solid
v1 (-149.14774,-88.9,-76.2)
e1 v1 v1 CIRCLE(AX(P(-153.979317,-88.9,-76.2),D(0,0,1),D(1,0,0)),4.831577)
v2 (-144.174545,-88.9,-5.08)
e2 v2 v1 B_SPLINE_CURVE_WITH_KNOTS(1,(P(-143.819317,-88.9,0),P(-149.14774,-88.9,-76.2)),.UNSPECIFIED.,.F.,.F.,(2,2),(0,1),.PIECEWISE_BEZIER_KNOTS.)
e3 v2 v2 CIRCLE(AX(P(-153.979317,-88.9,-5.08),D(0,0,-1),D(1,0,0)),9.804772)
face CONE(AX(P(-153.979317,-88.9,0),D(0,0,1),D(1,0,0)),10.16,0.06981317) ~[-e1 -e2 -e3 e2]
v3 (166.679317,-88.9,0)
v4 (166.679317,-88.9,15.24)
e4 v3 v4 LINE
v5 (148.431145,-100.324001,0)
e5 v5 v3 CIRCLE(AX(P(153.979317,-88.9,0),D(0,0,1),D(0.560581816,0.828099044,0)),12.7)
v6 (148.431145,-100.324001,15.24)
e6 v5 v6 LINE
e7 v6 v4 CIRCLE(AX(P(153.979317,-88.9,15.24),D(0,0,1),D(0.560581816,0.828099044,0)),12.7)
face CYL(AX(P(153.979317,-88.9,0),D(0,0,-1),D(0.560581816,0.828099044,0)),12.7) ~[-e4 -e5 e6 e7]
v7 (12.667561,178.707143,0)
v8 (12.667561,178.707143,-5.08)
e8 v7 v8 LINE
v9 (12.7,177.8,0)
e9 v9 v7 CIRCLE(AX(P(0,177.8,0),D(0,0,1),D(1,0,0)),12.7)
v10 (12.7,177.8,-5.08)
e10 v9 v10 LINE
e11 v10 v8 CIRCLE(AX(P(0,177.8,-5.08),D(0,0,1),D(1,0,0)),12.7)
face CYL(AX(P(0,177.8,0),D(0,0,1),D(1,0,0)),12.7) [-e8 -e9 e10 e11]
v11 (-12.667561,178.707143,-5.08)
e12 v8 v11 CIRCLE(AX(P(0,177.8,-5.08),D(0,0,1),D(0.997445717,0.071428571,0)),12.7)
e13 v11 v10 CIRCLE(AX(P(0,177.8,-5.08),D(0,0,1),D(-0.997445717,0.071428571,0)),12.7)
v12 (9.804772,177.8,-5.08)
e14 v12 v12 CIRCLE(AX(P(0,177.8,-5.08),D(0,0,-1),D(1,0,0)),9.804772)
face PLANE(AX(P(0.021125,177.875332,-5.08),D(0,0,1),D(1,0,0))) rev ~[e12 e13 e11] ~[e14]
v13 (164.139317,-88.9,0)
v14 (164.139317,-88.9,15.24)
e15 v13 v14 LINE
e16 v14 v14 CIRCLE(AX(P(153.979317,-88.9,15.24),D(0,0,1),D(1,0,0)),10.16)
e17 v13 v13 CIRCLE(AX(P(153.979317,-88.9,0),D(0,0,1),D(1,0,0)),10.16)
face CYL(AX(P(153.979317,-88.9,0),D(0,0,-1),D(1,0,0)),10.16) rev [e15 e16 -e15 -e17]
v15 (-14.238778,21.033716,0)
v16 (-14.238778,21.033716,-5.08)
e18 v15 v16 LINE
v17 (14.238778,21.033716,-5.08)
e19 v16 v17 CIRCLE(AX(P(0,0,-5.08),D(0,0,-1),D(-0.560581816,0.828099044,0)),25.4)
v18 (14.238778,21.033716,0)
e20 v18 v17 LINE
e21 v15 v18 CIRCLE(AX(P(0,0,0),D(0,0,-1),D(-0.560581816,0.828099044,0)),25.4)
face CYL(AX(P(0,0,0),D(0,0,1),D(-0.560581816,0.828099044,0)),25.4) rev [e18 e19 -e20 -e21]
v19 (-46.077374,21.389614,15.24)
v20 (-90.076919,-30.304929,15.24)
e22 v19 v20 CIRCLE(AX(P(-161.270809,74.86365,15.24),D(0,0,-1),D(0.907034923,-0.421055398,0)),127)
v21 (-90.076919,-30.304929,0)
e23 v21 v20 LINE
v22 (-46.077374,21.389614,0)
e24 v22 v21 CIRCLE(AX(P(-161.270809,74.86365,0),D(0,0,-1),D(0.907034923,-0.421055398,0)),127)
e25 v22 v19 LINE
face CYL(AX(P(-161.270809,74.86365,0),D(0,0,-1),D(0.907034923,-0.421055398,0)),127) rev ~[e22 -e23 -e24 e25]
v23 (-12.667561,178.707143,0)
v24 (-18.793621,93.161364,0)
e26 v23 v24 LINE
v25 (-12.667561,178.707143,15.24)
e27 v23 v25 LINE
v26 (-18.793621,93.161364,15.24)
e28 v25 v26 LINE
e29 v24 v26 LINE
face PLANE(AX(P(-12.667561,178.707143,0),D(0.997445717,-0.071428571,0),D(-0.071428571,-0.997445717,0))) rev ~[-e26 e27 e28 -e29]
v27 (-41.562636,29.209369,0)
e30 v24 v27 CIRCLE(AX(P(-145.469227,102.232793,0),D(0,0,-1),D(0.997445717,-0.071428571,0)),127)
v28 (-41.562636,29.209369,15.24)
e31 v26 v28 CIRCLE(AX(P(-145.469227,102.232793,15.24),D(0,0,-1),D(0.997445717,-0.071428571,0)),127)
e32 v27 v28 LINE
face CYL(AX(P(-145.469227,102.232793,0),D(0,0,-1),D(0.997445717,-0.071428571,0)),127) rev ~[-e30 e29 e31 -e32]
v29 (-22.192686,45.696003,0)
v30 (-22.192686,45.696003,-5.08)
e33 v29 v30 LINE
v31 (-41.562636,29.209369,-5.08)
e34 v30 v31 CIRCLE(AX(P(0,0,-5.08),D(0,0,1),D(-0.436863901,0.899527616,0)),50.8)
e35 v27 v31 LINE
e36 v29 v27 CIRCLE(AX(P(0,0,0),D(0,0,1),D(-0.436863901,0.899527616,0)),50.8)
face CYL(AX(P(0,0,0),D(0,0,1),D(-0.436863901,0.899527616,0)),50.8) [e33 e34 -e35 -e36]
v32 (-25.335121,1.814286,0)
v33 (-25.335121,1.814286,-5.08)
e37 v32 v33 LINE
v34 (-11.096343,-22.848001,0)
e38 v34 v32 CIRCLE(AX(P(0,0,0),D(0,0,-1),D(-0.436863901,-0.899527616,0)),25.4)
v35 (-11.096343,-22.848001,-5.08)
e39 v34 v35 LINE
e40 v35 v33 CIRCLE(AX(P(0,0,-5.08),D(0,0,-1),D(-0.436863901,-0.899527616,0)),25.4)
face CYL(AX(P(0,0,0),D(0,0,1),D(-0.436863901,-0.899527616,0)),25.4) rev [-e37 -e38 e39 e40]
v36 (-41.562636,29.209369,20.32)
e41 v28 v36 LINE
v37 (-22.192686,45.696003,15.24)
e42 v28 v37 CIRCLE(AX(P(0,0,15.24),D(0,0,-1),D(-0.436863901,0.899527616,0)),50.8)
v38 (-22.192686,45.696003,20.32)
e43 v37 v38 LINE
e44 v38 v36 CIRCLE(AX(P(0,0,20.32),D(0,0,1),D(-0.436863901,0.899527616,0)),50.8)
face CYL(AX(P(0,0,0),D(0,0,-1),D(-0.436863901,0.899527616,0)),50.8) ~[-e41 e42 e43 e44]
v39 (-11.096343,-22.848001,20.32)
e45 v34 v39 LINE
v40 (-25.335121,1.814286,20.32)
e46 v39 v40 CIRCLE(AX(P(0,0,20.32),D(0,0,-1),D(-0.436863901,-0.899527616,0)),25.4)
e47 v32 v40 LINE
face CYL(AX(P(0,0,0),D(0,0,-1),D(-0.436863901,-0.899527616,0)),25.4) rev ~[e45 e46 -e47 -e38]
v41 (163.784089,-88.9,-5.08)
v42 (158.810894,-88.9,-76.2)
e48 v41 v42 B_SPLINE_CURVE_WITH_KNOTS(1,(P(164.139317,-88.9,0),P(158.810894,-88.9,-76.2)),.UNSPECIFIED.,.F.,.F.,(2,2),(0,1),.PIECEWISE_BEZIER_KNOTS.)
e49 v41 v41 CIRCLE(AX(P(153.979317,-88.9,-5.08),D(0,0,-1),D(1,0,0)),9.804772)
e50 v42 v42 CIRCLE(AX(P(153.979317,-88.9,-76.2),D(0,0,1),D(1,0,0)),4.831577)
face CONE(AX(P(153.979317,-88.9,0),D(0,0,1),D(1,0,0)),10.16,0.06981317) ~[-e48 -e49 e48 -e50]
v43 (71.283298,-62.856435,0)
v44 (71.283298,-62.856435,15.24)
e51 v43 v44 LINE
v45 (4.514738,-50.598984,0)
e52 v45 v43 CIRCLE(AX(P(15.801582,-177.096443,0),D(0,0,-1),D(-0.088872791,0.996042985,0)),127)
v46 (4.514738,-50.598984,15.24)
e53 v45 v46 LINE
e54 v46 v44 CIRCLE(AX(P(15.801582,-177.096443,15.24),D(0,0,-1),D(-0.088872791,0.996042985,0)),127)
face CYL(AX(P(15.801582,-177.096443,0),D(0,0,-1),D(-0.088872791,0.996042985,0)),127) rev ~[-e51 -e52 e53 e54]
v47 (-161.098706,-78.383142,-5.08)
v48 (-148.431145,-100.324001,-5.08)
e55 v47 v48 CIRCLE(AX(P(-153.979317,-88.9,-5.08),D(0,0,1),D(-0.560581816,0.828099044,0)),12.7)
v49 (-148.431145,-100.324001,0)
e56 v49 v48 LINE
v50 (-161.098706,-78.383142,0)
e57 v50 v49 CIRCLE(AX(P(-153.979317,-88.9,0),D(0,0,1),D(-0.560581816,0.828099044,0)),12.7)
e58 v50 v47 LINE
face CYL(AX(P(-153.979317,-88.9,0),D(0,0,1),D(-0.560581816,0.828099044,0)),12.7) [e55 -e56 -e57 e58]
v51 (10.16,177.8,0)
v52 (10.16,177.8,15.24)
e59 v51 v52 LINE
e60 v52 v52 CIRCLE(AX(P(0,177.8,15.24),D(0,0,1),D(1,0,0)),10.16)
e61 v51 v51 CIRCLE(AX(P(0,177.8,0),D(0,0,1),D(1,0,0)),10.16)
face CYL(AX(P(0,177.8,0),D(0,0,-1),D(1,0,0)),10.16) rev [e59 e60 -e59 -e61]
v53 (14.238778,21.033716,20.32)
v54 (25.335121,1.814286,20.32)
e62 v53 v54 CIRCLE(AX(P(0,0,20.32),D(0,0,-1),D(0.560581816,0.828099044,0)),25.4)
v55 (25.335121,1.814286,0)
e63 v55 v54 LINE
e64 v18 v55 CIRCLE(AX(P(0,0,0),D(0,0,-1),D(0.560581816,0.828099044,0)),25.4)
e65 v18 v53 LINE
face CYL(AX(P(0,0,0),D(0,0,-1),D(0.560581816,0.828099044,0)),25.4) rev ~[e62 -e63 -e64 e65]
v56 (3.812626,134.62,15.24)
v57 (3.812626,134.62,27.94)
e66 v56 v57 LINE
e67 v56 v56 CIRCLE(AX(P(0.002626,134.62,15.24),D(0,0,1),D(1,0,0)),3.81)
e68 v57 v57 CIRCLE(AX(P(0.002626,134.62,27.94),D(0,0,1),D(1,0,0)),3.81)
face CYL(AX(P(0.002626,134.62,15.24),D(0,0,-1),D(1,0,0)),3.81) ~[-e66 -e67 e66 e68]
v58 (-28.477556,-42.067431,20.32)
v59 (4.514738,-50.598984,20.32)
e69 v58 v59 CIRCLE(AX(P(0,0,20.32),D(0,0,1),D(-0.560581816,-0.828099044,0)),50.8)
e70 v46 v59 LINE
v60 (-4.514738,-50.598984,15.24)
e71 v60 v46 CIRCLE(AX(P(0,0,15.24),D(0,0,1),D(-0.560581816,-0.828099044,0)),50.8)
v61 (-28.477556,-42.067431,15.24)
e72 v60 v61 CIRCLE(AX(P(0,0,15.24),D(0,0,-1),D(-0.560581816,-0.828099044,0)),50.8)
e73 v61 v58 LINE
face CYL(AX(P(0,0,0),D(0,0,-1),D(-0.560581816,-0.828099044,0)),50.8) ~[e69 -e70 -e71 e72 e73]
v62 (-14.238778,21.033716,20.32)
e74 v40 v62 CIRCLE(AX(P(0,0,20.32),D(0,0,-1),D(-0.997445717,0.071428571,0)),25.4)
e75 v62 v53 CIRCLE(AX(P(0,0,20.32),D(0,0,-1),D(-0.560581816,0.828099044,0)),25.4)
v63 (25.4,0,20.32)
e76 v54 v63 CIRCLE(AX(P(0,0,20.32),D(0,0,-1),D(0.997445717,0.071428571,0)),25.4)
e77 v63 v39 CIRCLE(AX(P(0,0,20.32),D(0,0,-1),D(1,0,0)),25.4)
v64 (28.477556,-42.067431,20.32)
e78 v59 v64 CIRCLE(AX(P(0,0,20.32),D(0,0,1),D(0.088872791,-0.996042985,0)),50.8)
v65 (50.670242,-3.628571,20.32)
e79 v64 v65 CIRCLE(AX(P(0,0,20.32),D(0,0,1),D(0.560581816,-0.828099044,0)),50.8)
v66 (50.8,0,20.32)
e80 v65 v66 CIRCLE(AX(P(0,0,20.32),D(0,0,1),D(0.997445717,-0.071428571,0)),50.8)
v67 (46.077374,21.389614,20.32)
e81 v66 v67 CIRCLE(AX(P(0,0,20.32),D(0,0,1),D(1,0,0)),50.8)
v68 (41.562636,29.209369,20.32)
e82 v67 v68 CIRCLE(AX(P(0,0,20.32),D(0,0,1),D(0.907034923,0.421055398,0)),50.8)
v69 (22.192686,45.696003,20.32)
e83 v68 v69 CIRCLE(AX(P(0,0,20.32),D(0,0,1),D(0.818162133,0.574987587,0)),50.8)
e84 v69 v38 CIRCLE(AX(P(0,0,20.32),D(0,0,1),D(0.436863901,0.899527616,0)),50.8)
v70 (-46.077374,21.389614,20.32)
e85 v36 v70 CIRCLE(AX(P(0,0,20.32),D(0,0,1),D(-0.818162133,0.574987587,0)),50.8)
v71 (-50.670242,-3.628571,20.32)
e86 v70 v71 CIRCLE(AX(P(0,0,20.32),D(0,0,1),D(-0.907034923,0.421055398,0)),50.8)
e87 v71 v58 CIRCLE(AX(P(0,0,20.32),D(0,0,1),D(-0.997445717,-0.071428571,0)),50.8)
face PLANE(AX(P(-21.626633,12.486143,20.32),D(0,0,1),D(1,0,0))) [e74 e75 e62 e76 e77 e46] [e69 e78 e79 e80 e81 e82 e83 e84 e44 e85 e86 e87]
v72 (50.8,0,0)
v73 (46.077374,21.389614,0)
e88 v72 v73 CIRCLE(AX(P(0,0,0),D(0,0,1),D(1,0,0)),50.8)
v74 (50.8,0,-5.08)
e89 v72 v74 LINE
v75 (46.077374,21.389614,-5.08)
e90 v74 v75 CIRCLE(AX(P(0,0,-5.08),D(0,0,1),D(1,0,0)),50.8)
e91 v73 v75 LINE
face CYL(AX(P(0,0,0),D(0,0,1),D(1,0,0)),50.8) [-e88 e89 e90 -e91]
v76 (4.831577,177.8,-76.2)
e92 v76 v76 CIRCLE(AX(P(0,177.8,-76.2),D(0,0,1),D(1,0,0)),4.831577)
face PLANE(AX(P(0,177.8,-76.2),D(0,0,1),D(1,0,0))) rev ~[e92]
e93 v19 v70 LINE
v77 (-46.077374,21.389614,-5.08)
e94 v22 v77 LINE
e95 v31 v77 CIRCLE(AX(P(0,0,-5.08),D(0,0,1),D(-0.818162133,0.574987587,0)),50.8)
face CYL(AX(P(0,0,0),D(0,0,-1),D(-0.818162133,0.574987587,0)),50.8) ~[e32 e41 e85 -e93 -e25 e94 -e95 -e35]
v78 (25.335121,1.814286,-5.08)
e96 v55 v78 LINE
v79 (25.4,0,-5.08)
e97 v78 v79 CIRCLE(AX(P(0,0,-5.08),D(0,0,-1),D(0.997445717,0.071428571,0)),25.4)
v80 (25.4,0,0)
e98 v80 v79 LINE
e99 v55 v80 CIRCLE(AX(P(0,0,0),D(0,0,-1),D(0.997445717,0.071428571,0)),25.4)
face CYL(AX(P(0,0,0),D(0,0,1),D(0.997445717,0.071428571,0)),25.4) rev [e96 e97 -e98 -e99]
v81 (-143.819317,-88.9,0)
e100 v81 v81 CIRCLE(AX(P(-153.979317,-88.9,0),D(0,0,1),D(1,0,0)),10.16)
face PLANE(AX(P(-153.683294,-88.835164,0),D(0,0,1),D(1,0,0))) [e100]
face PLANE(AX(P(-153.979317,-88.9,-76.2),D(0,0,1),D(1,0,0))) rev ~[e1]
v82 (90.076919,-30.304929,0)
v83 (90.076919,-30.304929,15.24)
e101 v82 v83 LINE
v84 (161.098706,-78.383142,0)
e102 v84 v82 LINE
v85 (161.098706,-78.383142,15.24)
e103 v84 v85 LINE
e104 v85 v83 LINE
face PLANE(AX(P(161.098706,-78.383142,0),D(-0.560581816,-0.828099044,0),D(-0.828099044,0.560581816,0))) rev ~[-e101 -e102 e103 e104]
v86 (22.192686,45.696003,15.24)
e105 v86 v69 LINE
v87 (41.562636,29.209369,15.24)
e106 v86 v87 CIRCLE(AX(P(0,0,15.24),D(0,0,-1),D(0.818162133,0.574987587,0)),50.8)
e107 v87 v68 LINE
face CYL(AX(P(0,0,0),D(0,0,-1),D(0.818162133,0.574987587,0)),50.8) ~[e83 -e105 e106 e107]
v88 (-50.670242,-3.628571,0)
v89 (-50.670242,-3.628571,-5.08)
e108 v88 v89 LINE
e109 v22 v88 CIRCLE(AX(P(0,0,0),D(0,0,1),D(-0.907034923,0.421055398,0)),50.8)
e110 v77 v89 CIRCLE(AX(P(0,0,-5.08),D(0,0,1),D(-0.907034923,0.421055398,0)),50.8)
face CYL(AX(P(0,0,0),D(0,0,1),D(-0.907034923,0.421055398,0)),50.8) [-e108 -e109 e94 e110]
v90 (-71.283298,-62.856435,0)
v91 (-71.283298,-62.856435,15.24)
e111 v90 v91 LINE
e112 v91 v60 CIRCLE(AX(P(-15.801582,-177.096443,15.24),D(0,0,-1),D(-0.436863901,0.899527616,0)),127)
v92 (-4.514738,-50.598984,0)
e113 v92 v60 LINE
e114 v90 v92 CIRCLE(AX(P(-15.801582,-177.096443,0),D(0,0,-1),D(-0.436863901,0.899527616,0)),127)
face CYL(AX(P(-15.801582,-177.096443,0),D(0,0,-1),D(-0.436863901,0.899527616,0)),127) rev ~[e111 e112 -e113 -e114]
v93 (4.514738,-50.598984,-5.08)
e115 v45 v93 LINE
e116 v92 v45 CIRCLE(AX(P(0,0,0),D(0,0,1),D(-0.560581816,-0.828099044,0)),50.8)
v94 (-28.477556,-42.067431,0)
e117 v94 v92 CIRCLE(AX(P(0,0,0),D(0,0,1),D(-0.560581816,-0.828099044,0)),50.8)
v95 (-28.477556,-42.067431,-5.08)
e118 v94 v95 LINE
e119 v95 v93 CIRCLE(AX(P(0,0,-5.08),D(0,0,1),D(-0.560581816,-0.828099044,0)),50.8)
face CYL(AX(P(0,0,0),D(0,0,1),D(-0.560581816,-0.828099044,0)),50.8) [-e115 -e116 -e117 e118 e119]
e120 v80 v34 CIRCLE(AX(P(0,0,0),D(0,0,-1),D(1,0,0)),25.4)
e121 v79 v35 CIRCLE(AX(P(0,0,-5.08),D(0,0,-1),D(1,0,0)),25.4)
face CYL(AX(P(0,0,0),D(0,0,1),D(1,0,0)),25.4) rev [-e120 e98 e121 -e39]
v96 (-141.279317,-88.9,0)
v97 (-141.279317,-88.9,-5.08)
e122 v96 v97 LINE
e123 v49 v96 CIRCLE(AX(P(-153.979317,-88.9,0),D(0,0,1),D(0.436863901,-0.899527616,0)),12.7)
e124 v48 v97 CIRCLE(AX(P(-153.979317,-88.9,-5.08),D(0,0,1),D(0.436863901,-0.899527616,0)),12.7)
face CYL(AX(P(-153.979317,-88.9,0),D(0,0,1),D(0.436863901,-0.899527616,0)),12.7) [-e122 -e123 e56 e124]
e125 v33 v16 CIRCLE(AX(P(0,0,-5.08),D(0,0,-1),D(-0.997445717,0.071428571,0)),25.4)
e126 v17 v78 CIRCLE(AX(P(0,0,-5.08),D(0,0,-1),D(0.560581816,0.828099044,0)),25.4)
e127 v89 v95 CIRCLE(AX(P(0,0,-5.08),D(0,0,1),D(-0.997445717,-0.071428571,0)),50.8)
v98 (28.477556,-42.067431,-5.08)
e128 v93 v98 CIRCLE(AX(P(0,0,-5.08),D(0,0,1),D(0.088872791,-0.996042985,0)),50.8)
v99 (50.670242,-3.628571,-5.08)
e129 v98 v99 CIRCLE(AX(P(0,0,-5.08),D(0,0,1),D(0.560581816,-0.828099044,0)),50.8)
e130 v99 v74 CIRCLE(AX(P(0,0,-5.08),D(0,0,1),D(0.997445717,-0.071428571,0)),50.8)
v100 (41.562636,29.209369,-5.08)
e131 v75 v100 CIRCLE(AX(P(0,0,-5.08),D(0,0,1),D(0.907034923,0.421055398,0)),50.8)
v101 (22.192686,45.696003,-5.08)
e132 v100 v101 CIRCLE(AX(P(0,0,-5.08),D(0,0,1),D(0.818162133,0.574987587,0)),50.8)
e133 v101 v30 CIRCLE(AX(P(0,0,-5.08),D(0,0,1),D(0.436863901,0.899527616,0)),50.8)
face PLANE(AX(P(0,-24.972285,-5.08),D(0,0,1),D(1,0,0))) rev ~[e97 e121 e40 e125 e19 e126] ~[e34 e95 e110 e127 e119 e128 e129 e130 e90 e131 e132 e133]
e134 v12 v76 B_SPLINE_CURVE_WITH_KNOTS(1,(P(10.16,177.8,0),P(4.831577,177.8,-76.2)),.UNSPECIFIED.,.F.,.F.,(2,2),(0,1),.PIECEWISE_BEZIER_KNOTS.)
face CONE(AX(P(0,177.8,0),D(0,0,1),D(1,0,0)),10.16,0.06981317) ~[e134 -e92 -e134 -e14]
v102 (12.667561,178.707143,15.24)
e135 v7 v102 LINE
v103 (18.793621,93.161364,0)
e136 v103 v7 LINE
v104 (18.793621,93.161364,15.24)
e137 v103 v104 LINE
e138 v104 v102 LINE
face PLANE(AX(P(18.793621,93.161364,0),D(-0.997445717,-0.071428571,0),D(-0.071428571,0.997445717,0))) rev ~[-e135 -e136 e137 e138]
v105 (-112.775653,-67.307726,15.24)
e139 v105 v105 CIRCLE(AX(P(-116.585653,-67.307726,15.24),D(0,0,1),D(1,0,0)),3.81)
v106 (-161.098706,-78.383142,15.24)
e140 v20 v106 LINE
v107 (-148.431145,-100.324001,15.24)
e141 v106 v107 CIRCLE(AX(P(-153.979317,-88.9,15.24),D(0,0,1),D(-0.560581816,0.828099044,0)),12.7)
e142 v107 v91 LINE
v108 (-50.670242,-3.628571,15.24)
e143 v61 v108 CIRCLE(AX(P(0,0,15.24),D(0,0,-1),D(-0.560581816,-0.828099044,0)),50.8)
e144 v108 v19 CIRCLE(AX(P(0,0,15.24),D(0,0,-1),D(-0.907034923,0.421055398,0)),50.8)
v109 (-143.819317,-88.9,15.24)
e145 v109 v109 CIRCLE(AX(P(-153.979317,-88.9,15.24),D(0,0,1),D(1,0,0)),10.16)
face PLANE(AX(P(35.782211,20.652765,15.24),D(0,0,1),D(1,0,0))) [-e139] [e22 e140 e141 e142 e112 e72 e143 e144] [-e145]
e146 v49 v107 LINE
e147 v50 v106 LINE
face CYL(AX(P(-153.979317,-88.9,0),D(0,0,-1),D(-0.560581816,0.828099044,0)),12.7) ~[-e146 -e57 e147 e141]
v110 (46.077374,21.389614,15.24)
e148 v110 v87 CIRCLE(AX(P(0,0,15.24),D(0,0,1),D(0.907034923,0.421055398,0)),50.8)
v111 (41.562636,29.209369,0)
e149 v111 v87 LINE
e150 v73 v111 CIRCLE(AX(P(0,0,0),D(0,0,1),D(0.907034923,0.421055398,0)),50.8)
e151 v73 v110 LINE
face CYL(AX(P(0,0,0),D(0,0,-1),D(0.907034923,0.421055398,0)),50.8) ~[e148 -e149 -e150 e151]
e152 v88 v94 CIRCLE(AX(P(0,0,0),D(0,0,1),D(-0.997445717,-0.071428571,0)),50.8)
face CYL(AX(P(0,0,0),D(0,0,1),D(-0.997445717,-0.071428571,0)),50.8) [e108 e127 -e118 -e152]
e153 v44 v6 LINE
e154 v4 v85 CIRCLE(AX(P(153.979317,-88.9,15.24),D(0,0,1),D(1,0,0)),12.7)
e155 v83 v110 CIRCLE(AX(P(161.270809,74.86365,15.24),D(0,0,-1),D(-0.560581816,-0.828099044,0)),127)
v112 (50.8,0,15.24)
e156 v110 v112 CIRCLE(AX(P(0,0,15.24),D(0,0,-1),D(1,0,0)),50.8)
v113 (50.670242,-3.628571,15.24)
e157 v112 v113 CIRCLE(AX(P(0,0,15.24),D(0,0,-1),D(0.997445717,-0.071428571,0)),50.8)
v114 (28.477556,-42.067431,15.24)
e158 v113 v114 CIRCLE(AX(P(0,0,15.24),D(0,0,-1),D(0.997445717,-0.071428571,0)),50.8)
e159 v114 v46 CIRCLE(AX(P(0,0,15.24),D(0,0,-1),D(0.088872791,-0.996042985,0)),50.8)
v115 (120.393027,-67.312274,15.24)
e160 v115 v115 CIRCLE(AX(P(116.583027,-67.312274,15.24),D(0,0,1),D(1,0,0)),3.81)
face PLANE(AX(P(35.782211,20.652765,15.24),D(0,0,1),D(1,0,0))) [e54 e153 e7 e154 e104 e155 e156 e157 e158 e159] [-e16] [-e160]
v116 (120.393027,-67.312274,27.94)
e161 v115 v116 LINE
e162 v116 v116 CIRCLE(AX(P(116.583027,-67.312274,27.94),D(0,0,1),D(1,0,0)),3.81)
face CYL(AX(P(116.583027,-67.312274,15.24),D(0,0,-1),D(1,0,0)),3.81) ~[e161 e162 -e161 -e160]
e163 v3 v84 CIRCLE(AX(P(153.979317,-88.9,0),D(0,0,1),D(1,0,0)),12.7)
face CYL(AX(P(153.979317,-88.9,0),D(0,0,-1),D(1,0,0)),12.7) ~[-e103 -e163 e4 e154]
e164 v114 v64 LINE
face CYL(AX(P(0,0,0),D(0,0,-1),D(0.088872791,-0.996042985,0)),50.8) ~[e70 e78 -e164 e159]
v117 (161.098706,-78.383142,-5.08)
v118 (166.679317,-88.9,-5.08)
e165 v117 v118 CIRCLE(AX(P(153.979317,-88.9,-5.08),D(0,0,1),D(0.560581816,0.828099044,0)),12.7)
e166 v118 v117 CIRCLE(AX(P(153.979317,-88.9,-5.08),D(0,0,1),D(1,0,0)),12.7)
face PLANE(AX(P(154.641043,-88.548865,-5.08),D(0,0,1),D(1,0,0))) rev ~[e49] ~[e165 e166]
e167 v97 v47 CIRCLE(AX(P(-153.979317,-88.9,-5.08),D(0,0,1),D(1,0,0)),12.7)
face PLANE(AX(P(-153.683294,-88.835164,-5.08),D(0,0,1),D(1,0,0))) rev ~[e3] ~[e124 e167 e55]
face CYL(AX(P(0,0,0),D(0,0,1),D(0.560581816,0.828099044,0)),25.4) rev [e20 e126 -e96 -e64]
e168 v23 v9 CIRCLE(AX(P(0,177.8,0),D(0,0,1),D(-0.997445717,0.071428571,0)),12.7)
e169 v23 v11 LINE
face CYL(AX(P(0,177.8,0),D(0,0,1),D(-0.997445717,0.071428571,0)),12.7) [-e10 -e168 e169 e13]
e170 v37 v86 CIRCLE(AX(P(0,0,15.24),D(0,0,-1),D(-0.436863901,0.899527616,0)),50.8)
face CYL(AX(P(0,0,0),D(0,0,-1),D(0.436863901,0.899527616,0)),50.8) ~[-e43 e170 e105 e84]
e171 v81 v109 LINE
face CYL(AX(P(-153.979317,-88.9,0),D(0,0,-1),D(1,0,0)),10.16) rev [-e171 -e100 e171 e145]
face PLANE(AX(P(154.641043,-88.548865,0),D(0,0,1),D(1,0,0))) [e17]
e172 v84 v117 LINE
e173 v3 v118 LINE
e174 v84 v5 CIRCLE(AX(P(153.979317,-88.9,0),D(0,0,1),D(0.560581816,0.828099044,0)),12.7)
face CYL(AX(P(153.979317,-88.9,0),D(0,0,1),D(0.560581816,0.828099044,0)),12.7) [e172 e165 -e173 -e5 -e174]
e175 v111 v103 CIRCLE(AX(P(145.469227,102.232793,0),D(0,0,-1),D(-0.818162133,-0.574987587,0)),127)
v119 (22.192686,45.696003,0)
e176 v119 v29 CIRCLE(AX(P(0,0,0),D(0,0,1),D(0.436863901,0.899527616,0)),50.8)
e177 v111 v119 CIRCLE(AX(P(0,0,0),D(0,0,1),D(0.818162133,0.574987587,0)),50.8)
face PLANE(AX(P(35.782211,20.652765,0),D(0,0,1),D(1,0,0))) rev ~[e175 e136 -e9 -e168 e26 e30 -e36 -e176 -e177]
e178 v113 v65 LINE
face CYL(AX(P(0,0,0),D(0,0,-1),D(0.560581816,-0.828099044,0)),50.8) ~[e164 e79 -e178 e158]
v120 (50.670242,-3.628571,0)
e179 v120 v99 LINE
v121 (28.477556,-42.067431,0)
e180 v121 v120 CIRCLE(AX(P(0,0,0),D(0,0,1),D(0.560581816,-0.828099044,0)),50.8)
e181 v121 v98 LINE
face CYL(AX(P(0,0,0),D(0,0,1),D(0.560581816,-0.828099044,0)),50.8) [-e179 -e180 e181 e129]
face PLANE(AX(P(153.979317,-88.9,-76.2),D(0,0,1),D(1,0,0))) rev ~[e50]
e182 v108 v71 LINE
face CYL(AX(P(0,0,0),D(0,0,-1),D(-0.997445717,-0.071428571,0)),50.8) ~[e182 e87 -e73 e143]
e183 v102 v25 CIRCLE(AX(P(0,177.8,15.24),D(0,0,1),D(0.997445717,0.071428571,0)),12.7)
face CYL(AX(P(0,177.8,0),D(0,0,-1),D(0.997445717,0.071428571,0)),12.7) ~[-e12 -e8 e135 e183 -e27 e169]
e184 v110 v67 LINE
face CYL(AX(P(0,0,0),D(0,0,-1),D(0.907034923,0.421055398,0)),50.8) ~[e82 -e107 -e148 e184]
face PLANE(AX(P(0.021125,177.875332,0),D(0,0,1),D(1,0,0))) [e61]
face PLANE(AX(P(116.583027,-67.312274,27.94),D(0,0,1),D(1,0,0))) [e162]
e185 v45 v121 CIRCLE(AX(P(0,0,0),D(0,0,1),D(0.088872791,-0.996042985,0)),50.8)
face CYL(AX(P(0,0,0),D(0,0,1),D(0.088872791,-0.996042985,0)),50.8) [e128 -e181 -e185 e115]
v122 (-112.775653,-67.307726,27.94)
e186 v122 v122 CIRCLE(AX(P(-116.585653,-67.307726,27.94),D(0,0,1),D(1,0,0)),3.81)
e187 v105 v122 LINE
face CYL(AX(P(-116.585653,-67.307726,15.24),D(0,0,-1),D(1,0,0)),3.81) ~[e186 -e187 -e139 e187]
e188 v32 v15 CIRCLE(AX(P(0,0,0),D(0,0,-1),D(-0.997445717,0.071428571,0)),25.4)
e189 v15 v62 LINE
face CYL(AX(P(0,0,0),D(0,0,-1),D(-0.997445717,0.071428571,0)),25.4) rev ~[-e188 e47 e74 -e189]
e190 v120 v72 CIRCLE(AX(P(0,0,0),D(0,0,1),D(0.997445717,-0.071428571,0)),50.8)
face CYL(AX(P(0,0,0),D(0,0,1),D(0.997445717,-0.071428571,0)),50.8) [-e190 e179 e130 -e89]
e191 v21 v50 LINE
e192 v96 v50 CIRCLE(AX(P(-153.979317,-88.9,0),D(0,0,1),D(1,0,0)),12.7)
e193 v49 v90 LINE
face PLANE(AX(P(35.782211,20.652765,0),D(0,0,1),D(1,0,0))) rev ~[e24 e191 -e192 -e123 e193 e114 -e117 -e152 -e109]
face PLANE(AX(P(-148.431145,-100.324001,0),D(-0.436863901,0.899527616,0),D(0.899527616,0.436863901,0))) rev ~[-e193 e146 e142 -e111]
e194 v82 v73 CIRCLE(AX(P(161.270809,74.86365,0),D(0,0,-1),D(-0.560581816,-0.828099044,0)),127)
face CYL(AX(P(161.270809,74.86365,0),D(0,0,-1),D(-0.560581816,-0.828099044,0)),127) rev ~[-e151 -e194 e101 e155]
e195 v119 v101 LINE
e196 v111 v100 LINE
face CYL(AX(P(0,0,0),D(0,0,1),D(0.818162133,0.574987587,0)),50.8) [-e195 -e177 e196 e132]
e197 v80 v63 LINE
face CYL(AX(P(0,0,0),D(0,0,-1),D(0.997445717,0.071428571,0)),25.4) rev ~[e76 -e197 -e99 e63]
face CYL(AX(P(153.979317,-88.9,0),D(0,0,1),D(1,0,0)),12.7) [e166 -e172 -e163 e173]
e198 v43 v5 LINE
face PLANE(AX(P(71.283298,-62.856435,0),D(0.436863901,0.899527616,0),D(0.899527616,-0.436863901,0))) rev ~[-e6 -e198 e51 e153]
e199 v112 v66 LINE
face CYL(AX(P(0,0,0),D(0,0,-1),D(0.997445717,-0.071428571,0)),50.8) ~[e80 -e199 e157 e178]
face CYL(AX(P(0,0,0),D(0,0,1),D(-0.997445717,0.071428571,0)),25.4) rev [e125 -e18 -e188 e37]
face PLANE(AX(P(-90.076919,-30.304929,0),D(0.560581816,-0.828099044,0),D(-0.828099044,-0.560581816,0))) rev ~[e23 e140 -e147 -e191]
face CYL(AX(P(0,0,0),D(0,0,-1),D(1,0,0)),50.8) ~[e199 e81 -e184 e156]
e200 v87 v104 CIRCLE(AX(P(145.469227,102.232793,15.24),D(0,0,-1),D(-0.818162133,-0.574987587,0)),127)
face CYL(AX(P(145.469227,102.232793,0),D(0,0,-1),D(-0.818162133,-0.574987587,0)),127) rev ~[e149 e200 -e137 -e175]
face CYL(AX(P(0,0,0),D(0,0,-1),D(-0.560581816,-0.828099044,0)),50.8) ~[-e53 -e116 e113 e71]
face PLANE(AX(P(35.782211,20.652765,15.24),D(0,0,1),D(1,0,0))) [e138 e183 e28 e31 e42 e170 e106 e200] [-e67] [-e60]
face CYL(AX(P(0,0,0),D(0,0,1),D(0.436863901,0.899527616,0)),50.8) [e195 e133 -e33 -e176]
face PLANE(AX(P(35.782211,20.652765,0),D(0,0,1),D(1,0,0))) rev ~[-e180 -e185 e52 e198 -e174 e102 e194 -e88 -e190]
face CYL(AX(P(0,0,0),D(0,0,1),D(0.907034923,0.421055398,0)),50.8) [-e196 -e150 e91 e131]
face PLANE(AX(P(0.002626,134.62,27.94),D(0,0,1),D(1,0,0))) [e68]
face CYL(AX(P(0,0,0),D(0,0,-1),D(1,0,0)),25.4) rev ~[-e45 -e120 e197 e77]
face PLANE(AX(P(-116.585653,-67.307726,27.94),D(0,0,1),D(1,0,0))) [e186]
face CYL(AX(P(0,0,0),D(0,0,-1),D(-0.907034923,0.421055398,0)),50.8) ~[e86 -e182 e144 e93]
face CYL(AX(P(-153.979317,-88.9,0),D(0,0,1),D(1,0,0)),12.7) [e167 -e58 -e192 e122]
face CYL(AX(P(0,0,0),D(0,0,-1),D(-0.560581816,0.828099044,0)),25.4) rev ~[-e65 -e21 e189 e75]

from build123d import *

# Parameters (mm, degrees)
F1_DEPTH = 20.32
F2_DEPTH = 5.08
F0_R     = 10.16
F3_DEPTH = 15.24
F4_DEPTH = 5.08
F5_DEPTH = 76.2
F5_TAPER = 4
F6_R     = 3.81
F7_DEPTH = 12.7


with BuildPart() as f1:
    # F0 (on Top) → F1 (new body)
    with BuildSketch(Plane.XY):
        with BuildLine():
            ThreePointArc((-25.3351212223, 1.8142857143), (-21.9970452561, 12.7), (-14.2387781294, 21.0337157293))
            Line((-14.2387781294, 21.0337157293), (-24.4539965951, 14.1185215169))
            Line((-24.4539965951, 14.1185215169), (-25.3351212223, 1.8142857143))
        make_face()
        with BuildLine():
            ThreePointArc((14.2387781294, 21.0337157293), (21.9970452561, 12.7), (25.3351212223, 1.8142857143))
            Line((25.3351212223, 1.8142857143), (24.4539965951, 14.1185215169))
            Line((24.4539965951, 14.1185215169), (14.2387781294, 21.0337157293))
        make_face()
        with BuildLine():
            Line((0, -28.2370430339), (11.0963430928, -22.8480014436))
            ThreePointArc((11.0963430928, -22.8480014436), (0, -25.4), (-11.0963430928, -22.8480014436))
            Line((-11.0963430928, -22.8480014436), (0, -28.2370430339))
        make_face()
        with BuildLine():
            ThreePointArc((25.3351212223, 1.8142857143), (25.3837751235, 0.9077226874), (25.4, 0))
            ThreePointArc((25.4, 0), (21.5291327572, -13.4779984687), (11.0963430928, -22.8480014436))
            Line((11.0963430928, -22.8480014436), (0, -28.2370430339))
            Line((0, -28.2370430339), (28.4775562589, -42.0674314586))
            ThreePointArc((28.4775562589, -42.0674314586), (43.9940905122, -25.4), (50.6702424445, -3.6285714286))
            Line((50.6702424445, -3.6285714286), (24.4539965951, 14.1185215169))
            Line((24.4539965951, 14.1185215169), (25.3351212223, 1.8142857143))
        make_face()
        with BuildLine():
            Line((0, -28.2370430339), (-11.0963430928, -22.8480014436))
            ThreePointArc((-11.0963430928, -22.8480014436), (-21.9970452561, -12.7), (-25.3351212223, 1.8142857143))
            Line((-25.3351212223, 1.8142857143), (-24.4539965951, 14.1185215169))
            Line((-24.4539965951, 14.1185215169), (-50.6702424445, -3.6285714286))
            ThreePointArc((-50.6702424445, -3.6285714286), (-43.9940905122, -25.4), (-28.4775562589, -42.0674314586))
            Line((-28.4775562589, -42.0674314586), (0, -28.2370430339))
        make_face()
        with BuildLine():
            Line((28.4775562589, -42.0674314586), (0, -28.2370430339))
            Line((0, -28.2370430339), (-28.4775562589, -42.0674314586))
            ThreePointArc((-28.4775562589, -42.0674314586), (-17.0387708432, -47.8572908568), (-4.5147377685, -50.5989836151))
            ThreePointArc((-4.5147377685, -50.5989836151), (0, -50.8), (4.5147377685, -50.5989836151))
            ThreePointArc((4.5147377685, -50.5989836151), (17.0387708432, -47.8572908568), (28.4775562589, -42.0674314586))
        make_face()
        with BuildLine():
            Line((22.1926861857, 45.6960028872), (24.4539965951, 14.1185215169))
            Line((24.4539965951, 14.1185215169), (50.6702424445, -3.6285714286))
            ThreePointArc((50.6702424445, -3.6285714286), (50.7675502471, -1.8154453748), (50.8, 0))
            ThreePointArc((50.8, 0), (49.605295102, 10.9523832039), (46.0773741006, 21.3896142086))
            ThreePointArc((46.0773741006, 21.3896142086), (43.9940905122, 25.4), (41.5626363321, 29.2093694065))
            ThreePointArc((41.5626363321, 29.2093694065), (32.9262442167, 38.6846538279), (22.1926861857, 45.6960028872))
        make_face()
        with BuildLine():
            ThreePointArc((-14.2387781294, 21.0337157293), (0, 25.4), (14.2387781294, 21.0337157293))
            Line((14.2387781294, 21.0337157293), (24.4539965951, 14.1185215169))
            Line((24.4539965951, 14.1185215169), (22.1926861857, 45.6960028872))
            ThreePointArc((22.1926861857, 45.6960028872), (0, 50.8), (-22.1926861857, 45.6960028872))
            Line((-22.1926861857, 45.6960028872), (-24.4539965951, 14.1185215169))
            Line((-24.4539965951, 14.1185215169), (-14.2387781294, 21.0337157293))
        make_face()
        with BuildLine():
            Line((-50.6702424445, -3.6285714286), (-24.4539965951, 14.1185215169))
            Line((-24.4539965951, 14.1185215169), (-22.1926861857, 45.6960028872))
            ThreePointArc((-22.1926861857, 45.6960028872), (-32.9262442167, 38.6846538279), (-41.5626363321, 29.2093694065))
            ThreePointArc((-41.5626363321, 29.2093694065), (-43.9940905122, 25.4), (-46.0773741006, 21.3896142086))
            ThreePointArc((-46.0773741006, 21.3896142086), (-49.9650150599, 9.172637029), (-50.6702424445, -3.6285714286))
        make_face()
    extrude(amount=F1_DEPTH)

    # F0 (on Top) → F2 (join)
    with BuildSketch(Plane.XY):
        with BuildLine():
            Line((0, -28.2370430339), (11.0963430928, -22.8480014436))
            ThreePointArc((11.0963430928, -22.8480014436), (0, -25.4), (-11.0963430928, -22.8480014436))
            Line((-11.0963430928, -22.8480014436), (0, -28.2370430339))
        make_face()
        with BuildLine():
            ThreePointArc((14.2387781294, 21.0337157293), (21.9970452561, 12.7), (25.3351212223, 1.8142857143))
            Line((25.3351212223, 1.8142857143), (24.4539965951, 14.1185215169))
            Line((24.4539965951, 14.1185215169), (14.2387781294, 21.0337157293))
        make_face()
        with BuildLine():
            ThreePointArc((-25.3351212223, 1.8142857143), (-21.9970452561, 12.7), (-14.2387781294, 21.0337157293))
            Line((-14.2387781294, 21.0337157293), (-24.4539965951, 14.1185215169))
            Line((-24.4539965951, 14.1185215169), (-25.3351212223, 1.8142857143))
        make_face()
        with BuildLine():
            Line((0, -28.2370430339), (-11.0963430928, -22.8480014436))
            ThreePointArc((-11.0963430928, -22.8480014436), (-21.9970452561, -12.7), (-25.3351212223, 1.8142857143))
            Line((-25.3351212223, 1.8142857143), (-24.4539965951, 14.1185215169))
            Line((-24.4539965951, 14.1185215169), (-50.6702424445, -3.6285714286))
            ThreePointArc((-50.6702424445, -3.6285714286), (-43.9940905122, -25.4), (-28.4775562589, -42.0674314586))
            Line((-28.4775562589, -42.0674314586), (0, -28.2370430339))
        make_face()
        with BuildLine():
            Line((28.4775562589, -42.0674314586), (0, -28.2370430339))
            Line((0, -28.2370430339), (-28.4775562589, -42.0674314586))
            ThreePointArc((-28.4775562589, -42.0674314586), (-17.0387708432, -47.8572908568), (-4.5147377685, -50.5989836151))
            ThreePointArc((-4.5147377685, -50.5989836151), (0, -50.8), (4.5147377685, -50.5989836151))
            ThreePointArc((4.5147377685, -50.5989836151), (17.0387708432, -47.8572908568), (28.4775562589, -42.0674314586))
        make_face()
        with BuildLine():
            ThreePointArc((25.3351212223, 1.8142857143), (25.3837751235, 0.9077226874), (25.4, 0))
            ThreePointArc((25.4, 0), (21.5291327572, -13.4779984687), (11.0963430928, -22.8480014436))
            Line((11.0963430928, -22.8480014436), (0, -28.2370430339))
            Line((0, -28.2370430339), (28.4775562589, -42.0674314586))
            ThreePointArc((28.4775562589, -42.0674314586), (43.9940905122, -25.4), (50.6702424445, -3.6285714286))
            Line((50.6702424445, -3.6285714286), (24.4539965951, 14.1185215169))
            Line((24.4539965951, 14.1185215169), (25.3351212223, 1.8142857143))
        make_face()
        with BuildLine():
            Line((22.1926861857, 45.6960028872), (24.4539965951, 14.1185215169))
            Line((24.4539965951, 14.1185215169), (50.6702424445, -3.6285714286))
            ThreePointArc((50.6702424445, -3.6285714286), (50.7675502471, -1.8154453748), (50.8, 0))
            ThreePointArc((50.8, 0), (49.605295102, 10.9523832039), (46.0773741006, 21.3896142086))
            ThreePointArc((46.0773741006, 21.3896142086), (43.9940905122, 25.4), (41.5626363321, 29.2093694065))
            ThreePointArc((41.5626363321, 29.2093694065), (32.9262442167, 38.6846538279), (22.1926861857, 45.6960028872))
        make_face()
        with BuildLine():
            ThreePointArc((-14.2387781294, 21.0337157293), (0, 25.4), (14.2387781294, 21.0337157293))
            Line((14.2387781294, 21.0337157293), (24.4539965951, 14.1185215169))
            Line((24.4539965951, 14.1185215169), (22.1926861857, 45.6960028872))
            ThreePointArc((22.1926861857, 45.6960028872), (0, 50.8), (-22.1926861857, 45.6960028872))
            Line((-22.1926861857, 45.6960028872), (-24.4539965951, 14.1185215169))
            Line((-24.4539965951, 14.1185215169), (-14.2387781294, 21.0337157293))
        make_face()
        with BuildLine():
            Line((-50.6702424445, -3.6285714286), (-24.4539965951, 14.1185215169))
            Line((-24.4539965951, 14.1185215169), (-22.1926861857, 45.6960028872))
            ThreePointArc((-22.1926861857, 45.6960028872), (-32.9262442167, 38.6846538279), (-41.5626363321, 29.2093694065))
            ThreePointArc((-41.5626363321, 29.2093694065), (-43.9940905122, 25.4), (-46.0773741006, 21.3896142086))
            ThreePointArc((-46.0773741006, 21.3896142086), (-49.9650150599, 9.172637029), (-50.6702424445, -3.6285714286))
        make_face()
    extrude(amount=-F2_DEPTH)

    # F0 (on Top) → F3 (join)
    with BuildSketch(Plane.XY):
        with BuildLine():
            Line((22.1926861857, 45.6960028872), (24.4539965951, 14.1185215169))
            Line((24.4539965951, 14.1185215169), (50.6702424445, -3.6285714286))
            ThreePointArc((50.6702424445, -3.6285714286), (50.7675502471, -1.8154453748), (50.8, 0))
            ThreePointArc((50.8, 0), (49.605295102, 10.9523832039), (46.0773741006, 21.3896142086))
            ThreePointArc((46.0773741006, 21.3896142086), (43.9940905122, 25.4), (41.5626363321, 29.2093694065))
            ThreePointArc((41.5626363321, 29.2093694065), (32.9262442167, 38.6846538279), (22.1926861857, 45.6960028872))
        make_face()
        with BuildLine():
            Line((28.4775562589, -42.0674314586), (0, -28.2370430339))
            Line((0, -28.2370430339), (-28.4775562589, -42.0674314586))
            ThreePointArc((-28.4775562589, -42.0674314586), (-17.0387708432, -47.8572908568), (-4.5147377685, -50.5989836151))
            ThreePointArc((-4.5147377685, -50.5989836151), (0, -50.8), (4.5147377685, -50.5989836151))
            ThreePointArc((4.5147377685, -50.5989836151), (17.0387708432, -47.8572908568), (28.4775562589, -42.0674314586))
        make_face()
        with BuildLine():
            Line((18.7936210511, 93.1613643513), (22.1926861857, 45.6960028872))
            ThreePointArc((22.1926861857, 45.6960028872), (32.9262442167, 38.6846538279), (41.5626363321, 29.2093694065))
            ThreePointArc((41.5626363321, 29.2093694065), (25.8260000204, 59.6358658147), (18.7936210511, 93.1613643513))
        make_face()
        with BuildLine():
            ThreePointArc((-22.1926861857, 45.6960028872), (0, 50.8), (22.1926861857, 45.6960028872))
            Line((22.1926861857, 45.6960028872), (18.7936210511, 93.1613643513))
            Line((18.7936210511, 93.1613643513), (12.6675606111, 178.7071428571))
            ThreePointArc((12.6675606111, 178.7071428571), (12.6918875618, 178.2538613437), (12.7, 177.8))
            ThreePointArc((12.7, 177.8), (-0.4538613437, 165.1081124382), (-12.6675606111, 178.7071428571))
            Line((-12.6675606111, 178.7071428571), (-18.7936210511, 93.1613643513))
            Line((-18.7936210511, 93.1613643513), (-22.1926861857, 45.6960028872))
        make_face()
        with BuildLine():
            Line((90.0769187049, -30.3049289163), (50.6702424445, -3.6285714286))
            ThreePointArc((50.6702424445, -3.6285714286), (43.9940905122, -25.4), (28.4775562589, -42.0674314586))
            Line((28.4775562589, -42.0674314586), (71.2832976539, -62.856435435))
            Line((71.2832976539, -62.856435435), (148.4311452465, -100.3240007218))
            ThreePointArc((148.4311452465, -100.3240007218), (142.9807941648, -82.55), (161.0987058576, -78.3831421354))
            Line((161.0987058576, -78.3831421354), (90.0769187049, -30.3049289163))
        make_face()
        with BuildLine():
            ThreePointArc((50.8, 0), (50.7675502471, -1.8154453748), (50.6702424445, -3.6285714286))
            Line((50.6702424445, -3.6285714286), (90.0769187049, -30.3049289163))
            ThreePointArc((90.0769187049, -30.3049289163), (64.5591747824, -7.4519608116), (46.0773741006, 21.3896142086))
            ThreePointArc((46.0773741006, 21.3896142086), (49.605295102, 10.9523832039), (50.8, 0))
        make_face()
        with BuildLine():
            Line((-71.2832976539, -62.856435435), (-28.4775562589, -42.0674314586))
            ThreePointArc((-28.4775562589, -42.0674314586), (-43.9940905122, -25.4), (-50.6702424445, -3.6285714286))
            Line((-50.6702424445, -3.6285714286), (-90.0769187049, -30.3049289163))
            Line((-90.0769187049, -30.3049289163), (-161.0987058576, -78.3831421354))
            ThreePointArc((-161.0987058576, -78.3831421354), (-148.0264284654, -77.6815722777), (-141.2793167929, -88.9))
            ThreePointArc((-141.2793167929, -88.9), (-143.2147504143, -95.6389992343), (-148.4311452465, -100.3240007218))
            Line((-148.4311452465, -100.3240007218), (-71.2832976539, -62.856435435))
        make_face()
        with BuildLine():
            ThreePointArc((-4.5147377685, -50.5989836151), (-17.0387708432, -47.8572908568), (-28.4775562589, -42.0674314586))
            Line((-28.4775562589, -42.0674314586), (-71.2832976539, -62.856435435))
            ThreePointArc((-71.2832976539, -62.856435435), (-38.7331747621, -52.1839050031), (-4.5147377685, -50.5989836151))
        make_face()
        with BuildLine():
            Line((71.2832976539, -62.856435435), (28.4775562589, -42.0674314586))
            ThreePointArc((28.4775562589, -42.0674314586), (17.0387708432, -47.8572908568), (4.5147377685, -50.5989836151))
            ThreePointArc((4.5147377685, -50.5989836151), (38.7331747621, -52.1839050031), (71.2832976539, -62.856435435))
        make_face()
        with BuildLine():
            Line((-50.6702424445, -3.6285714286), (-24.4539965951, 14.1185215169))
            Line((-24.4539965951, 14.1185215169), (-22.1926861857, 45.6960028872))
            ThreePointArc((-22.1926861857, 45.6960028872), (-32.9262442167, 38.6846538279), (-41.5626363321, 29.2093694065))
            ThreePointArc((-41.5626363321, 29.2093694065), (-43.9940905122, 25.4), (-46.0773741006, 21.3896142086))
            ThreePointArc((-46.0773741006, 21.3896142086), (-49.9650150599, 9.172637029), (-50.6702424445, -3.6285714286))
        make_face()
        with BuildLine():
            ThreePointArc((-41.5626363321, 29.2093694065), (-32.9262442167, 38.6846538279), (-22.1926861857, 45.6960028872))
            Line((-22.1926861857, 45.6960028872), (-18.7936210511, 93.1613643513))
            ThreePointArc((-18.7936210511, 93.1613643513), (-25.8260000204, 59.6358658147), (-41.5626363321, 29.2093694065))
        make_face()
        with BuildLine():
            Line((-90.0769187049, -30.3049289163), (-50.6702424445, -3.6285714286))
            ThreePointArc((-50.6702424445, -3.6285714286), (-49.9650150599, 9.172637029), (-46.0773741006, 21.3896142086))
            ThreePointArc((-46.0773741006, 21.3896142086), (-64.5591747824, -7.4519608116), (-90.0769187049, -30.3049289163))
        make_face()
        with BuildLine():
            ThreePointArc((12.7, 177.8), (12.6918875618, 178.2538613437), (12.6675606111, 178.7071428571))
            ThreePointArc((12.6675606111, 178.7071428571), (0, 190.5), (-12.6675606111, 178.7071428571))
            ThreePointArc((-12.6675606111, 178.7071428571), (-0.4538613437, 165.1081124382), (12.7, 177.8))
        make_face()
        with Locations((0, 177.8)):
            Circle(F0_R, mode=Mode.SUBTRACT)
        with BuildLine():
            ThreePointArc((166.6793167929, -88.9), (165.1977445152, -82.9471116726), (161.0987058576, -78.3831421354))
            ThreePointArc((161.0987058576, -78.3831421354), (142.9807941648, -82.55), (148.4311452465, -100.3240007218))
            ThreePointArc((148.4311452465, -100.3240007218), (160.7183160272, -99.6645663786), (166.6793167929, -88.9))
        make_face()
        with Locations((153.9793167929, -88.9)):
            Circle(F0_R, mode=Mode.SUBTRACT)
        with BuildLine():
            ThreePointArc((-161.0987058576, -78.3831421354), (-164.9778394209, -95.25), (-148.4311452465, -100.3240007218))
            ThreePointArc((-148.4311452465, -100.3240007218), (-143.2147504143, -95.6389992343), (-141.2793167929, -88.9))
            ThreePointArc((-141.2793167929, -88.9), (-148.0264284654, -77.6815722777), (-161.0987058576, -78.3831421354))
        make_face()
        with Locations((-153.9793167929, -88.9)):
            Circle(F0_R, mode=Mode.SUBTRACT)
    extrude(amount=F3_DEPTH)

    # F0 (on Top) → F4 (join)
    with BuildSketch(Plane.XY):
        with BuildLine():
            ThreePointArc((166.6793167929, -88.9), (165.1977445152, -82.9471116726), (161.0987058576, -78.3831421354))
            ThreePointArc((161.0987058576, -78.3831421354), (142.9807941648, -82.55), (148.4311452465, -100.3240007218))
            ThreePointArc((148.4311452465, -100.3240007218), (160.7183160272, -99.6645663786), (166.6793167929, -88.9))
        make_face()
        with Locations((153.9793167929, -88.9)):
            Circle(F0_R, mode=Mode.SUBTRACT)
        with BuildLine():
            ThreePointArc((-161.0987058576, -78.3831421354), (-164.9778394209, -95.25), (-148.4311452465, -100.3240007218))
            ThreePointArc((-148.4311452465, -100.3240007218), (-143.2147504143, -95.6389992343), (-141.2793167929, -88.9))
            ThreePointArc((-141.2793167929, -88.9), (-148.0264284654, -77.6815722777), (-161.0987058576, -78.3831421354))
        make_face()
        with Locations((-153.9793167929, -88.9)):
            Circle(F0_R, mode=Mode.SUBTRACT)
        with BuildLine():
            ThreePointArc((12.7, 177.8), (12.6918875618, 178.2538613437), (12.6675606111, 178.7071428571))
            ThreePointArc((12.6675606111, 178.7071428571), (0, 190.5), (-12.6675606111, 178.7071428571))
            ThreePointArc((-12.6675606111, 178.7071428571), (-0.4538613437, 165.1081124382), (12.7, 177.8))
        make_face()
        with Locations((0, 177.8)):
            Circle(F0_R, mode=Mode.SUBTRACT)
        with Locations((153.9793167929, -88.9)):
            Circle(F0_R)
        with Locations((-153.9793167929, -88.9)):
            Circle(F0_R)
        with Locations((0, 177.8)):
            Circle(F0_R)
    extrude(amount=-F4_DEPTH)

    # F0 (on Top) → F5 (join)
    with BuildSketch(Plane.XY):
        with Locations((0, 177.8)):
            Circle(F0_R)
        with Locations((153.9793167929, -88.9)):
            Circle(F0_R)
        with Locations((-153.9793167929, -88.9)):
            Circle(F0_R)
    extrude(amount=-F5_DEPTH, taper=F5_TAPER)

    # F6 (on face) → F7 (join)
    with BuildSketch(Plane.XY.offset(15.24)):
        with Locations((116.5830270356, -67.3122740339)):
            Circle(F6_R)
        with Locations((0.0026257821, 134.6200000798)):
            Circle(F6_R)
        with Locations((-116.5856528177, -67.3077260459)):
            Circle(F6_R)
    extrude(amount=F7_DEPTH)


solid = f1.part
